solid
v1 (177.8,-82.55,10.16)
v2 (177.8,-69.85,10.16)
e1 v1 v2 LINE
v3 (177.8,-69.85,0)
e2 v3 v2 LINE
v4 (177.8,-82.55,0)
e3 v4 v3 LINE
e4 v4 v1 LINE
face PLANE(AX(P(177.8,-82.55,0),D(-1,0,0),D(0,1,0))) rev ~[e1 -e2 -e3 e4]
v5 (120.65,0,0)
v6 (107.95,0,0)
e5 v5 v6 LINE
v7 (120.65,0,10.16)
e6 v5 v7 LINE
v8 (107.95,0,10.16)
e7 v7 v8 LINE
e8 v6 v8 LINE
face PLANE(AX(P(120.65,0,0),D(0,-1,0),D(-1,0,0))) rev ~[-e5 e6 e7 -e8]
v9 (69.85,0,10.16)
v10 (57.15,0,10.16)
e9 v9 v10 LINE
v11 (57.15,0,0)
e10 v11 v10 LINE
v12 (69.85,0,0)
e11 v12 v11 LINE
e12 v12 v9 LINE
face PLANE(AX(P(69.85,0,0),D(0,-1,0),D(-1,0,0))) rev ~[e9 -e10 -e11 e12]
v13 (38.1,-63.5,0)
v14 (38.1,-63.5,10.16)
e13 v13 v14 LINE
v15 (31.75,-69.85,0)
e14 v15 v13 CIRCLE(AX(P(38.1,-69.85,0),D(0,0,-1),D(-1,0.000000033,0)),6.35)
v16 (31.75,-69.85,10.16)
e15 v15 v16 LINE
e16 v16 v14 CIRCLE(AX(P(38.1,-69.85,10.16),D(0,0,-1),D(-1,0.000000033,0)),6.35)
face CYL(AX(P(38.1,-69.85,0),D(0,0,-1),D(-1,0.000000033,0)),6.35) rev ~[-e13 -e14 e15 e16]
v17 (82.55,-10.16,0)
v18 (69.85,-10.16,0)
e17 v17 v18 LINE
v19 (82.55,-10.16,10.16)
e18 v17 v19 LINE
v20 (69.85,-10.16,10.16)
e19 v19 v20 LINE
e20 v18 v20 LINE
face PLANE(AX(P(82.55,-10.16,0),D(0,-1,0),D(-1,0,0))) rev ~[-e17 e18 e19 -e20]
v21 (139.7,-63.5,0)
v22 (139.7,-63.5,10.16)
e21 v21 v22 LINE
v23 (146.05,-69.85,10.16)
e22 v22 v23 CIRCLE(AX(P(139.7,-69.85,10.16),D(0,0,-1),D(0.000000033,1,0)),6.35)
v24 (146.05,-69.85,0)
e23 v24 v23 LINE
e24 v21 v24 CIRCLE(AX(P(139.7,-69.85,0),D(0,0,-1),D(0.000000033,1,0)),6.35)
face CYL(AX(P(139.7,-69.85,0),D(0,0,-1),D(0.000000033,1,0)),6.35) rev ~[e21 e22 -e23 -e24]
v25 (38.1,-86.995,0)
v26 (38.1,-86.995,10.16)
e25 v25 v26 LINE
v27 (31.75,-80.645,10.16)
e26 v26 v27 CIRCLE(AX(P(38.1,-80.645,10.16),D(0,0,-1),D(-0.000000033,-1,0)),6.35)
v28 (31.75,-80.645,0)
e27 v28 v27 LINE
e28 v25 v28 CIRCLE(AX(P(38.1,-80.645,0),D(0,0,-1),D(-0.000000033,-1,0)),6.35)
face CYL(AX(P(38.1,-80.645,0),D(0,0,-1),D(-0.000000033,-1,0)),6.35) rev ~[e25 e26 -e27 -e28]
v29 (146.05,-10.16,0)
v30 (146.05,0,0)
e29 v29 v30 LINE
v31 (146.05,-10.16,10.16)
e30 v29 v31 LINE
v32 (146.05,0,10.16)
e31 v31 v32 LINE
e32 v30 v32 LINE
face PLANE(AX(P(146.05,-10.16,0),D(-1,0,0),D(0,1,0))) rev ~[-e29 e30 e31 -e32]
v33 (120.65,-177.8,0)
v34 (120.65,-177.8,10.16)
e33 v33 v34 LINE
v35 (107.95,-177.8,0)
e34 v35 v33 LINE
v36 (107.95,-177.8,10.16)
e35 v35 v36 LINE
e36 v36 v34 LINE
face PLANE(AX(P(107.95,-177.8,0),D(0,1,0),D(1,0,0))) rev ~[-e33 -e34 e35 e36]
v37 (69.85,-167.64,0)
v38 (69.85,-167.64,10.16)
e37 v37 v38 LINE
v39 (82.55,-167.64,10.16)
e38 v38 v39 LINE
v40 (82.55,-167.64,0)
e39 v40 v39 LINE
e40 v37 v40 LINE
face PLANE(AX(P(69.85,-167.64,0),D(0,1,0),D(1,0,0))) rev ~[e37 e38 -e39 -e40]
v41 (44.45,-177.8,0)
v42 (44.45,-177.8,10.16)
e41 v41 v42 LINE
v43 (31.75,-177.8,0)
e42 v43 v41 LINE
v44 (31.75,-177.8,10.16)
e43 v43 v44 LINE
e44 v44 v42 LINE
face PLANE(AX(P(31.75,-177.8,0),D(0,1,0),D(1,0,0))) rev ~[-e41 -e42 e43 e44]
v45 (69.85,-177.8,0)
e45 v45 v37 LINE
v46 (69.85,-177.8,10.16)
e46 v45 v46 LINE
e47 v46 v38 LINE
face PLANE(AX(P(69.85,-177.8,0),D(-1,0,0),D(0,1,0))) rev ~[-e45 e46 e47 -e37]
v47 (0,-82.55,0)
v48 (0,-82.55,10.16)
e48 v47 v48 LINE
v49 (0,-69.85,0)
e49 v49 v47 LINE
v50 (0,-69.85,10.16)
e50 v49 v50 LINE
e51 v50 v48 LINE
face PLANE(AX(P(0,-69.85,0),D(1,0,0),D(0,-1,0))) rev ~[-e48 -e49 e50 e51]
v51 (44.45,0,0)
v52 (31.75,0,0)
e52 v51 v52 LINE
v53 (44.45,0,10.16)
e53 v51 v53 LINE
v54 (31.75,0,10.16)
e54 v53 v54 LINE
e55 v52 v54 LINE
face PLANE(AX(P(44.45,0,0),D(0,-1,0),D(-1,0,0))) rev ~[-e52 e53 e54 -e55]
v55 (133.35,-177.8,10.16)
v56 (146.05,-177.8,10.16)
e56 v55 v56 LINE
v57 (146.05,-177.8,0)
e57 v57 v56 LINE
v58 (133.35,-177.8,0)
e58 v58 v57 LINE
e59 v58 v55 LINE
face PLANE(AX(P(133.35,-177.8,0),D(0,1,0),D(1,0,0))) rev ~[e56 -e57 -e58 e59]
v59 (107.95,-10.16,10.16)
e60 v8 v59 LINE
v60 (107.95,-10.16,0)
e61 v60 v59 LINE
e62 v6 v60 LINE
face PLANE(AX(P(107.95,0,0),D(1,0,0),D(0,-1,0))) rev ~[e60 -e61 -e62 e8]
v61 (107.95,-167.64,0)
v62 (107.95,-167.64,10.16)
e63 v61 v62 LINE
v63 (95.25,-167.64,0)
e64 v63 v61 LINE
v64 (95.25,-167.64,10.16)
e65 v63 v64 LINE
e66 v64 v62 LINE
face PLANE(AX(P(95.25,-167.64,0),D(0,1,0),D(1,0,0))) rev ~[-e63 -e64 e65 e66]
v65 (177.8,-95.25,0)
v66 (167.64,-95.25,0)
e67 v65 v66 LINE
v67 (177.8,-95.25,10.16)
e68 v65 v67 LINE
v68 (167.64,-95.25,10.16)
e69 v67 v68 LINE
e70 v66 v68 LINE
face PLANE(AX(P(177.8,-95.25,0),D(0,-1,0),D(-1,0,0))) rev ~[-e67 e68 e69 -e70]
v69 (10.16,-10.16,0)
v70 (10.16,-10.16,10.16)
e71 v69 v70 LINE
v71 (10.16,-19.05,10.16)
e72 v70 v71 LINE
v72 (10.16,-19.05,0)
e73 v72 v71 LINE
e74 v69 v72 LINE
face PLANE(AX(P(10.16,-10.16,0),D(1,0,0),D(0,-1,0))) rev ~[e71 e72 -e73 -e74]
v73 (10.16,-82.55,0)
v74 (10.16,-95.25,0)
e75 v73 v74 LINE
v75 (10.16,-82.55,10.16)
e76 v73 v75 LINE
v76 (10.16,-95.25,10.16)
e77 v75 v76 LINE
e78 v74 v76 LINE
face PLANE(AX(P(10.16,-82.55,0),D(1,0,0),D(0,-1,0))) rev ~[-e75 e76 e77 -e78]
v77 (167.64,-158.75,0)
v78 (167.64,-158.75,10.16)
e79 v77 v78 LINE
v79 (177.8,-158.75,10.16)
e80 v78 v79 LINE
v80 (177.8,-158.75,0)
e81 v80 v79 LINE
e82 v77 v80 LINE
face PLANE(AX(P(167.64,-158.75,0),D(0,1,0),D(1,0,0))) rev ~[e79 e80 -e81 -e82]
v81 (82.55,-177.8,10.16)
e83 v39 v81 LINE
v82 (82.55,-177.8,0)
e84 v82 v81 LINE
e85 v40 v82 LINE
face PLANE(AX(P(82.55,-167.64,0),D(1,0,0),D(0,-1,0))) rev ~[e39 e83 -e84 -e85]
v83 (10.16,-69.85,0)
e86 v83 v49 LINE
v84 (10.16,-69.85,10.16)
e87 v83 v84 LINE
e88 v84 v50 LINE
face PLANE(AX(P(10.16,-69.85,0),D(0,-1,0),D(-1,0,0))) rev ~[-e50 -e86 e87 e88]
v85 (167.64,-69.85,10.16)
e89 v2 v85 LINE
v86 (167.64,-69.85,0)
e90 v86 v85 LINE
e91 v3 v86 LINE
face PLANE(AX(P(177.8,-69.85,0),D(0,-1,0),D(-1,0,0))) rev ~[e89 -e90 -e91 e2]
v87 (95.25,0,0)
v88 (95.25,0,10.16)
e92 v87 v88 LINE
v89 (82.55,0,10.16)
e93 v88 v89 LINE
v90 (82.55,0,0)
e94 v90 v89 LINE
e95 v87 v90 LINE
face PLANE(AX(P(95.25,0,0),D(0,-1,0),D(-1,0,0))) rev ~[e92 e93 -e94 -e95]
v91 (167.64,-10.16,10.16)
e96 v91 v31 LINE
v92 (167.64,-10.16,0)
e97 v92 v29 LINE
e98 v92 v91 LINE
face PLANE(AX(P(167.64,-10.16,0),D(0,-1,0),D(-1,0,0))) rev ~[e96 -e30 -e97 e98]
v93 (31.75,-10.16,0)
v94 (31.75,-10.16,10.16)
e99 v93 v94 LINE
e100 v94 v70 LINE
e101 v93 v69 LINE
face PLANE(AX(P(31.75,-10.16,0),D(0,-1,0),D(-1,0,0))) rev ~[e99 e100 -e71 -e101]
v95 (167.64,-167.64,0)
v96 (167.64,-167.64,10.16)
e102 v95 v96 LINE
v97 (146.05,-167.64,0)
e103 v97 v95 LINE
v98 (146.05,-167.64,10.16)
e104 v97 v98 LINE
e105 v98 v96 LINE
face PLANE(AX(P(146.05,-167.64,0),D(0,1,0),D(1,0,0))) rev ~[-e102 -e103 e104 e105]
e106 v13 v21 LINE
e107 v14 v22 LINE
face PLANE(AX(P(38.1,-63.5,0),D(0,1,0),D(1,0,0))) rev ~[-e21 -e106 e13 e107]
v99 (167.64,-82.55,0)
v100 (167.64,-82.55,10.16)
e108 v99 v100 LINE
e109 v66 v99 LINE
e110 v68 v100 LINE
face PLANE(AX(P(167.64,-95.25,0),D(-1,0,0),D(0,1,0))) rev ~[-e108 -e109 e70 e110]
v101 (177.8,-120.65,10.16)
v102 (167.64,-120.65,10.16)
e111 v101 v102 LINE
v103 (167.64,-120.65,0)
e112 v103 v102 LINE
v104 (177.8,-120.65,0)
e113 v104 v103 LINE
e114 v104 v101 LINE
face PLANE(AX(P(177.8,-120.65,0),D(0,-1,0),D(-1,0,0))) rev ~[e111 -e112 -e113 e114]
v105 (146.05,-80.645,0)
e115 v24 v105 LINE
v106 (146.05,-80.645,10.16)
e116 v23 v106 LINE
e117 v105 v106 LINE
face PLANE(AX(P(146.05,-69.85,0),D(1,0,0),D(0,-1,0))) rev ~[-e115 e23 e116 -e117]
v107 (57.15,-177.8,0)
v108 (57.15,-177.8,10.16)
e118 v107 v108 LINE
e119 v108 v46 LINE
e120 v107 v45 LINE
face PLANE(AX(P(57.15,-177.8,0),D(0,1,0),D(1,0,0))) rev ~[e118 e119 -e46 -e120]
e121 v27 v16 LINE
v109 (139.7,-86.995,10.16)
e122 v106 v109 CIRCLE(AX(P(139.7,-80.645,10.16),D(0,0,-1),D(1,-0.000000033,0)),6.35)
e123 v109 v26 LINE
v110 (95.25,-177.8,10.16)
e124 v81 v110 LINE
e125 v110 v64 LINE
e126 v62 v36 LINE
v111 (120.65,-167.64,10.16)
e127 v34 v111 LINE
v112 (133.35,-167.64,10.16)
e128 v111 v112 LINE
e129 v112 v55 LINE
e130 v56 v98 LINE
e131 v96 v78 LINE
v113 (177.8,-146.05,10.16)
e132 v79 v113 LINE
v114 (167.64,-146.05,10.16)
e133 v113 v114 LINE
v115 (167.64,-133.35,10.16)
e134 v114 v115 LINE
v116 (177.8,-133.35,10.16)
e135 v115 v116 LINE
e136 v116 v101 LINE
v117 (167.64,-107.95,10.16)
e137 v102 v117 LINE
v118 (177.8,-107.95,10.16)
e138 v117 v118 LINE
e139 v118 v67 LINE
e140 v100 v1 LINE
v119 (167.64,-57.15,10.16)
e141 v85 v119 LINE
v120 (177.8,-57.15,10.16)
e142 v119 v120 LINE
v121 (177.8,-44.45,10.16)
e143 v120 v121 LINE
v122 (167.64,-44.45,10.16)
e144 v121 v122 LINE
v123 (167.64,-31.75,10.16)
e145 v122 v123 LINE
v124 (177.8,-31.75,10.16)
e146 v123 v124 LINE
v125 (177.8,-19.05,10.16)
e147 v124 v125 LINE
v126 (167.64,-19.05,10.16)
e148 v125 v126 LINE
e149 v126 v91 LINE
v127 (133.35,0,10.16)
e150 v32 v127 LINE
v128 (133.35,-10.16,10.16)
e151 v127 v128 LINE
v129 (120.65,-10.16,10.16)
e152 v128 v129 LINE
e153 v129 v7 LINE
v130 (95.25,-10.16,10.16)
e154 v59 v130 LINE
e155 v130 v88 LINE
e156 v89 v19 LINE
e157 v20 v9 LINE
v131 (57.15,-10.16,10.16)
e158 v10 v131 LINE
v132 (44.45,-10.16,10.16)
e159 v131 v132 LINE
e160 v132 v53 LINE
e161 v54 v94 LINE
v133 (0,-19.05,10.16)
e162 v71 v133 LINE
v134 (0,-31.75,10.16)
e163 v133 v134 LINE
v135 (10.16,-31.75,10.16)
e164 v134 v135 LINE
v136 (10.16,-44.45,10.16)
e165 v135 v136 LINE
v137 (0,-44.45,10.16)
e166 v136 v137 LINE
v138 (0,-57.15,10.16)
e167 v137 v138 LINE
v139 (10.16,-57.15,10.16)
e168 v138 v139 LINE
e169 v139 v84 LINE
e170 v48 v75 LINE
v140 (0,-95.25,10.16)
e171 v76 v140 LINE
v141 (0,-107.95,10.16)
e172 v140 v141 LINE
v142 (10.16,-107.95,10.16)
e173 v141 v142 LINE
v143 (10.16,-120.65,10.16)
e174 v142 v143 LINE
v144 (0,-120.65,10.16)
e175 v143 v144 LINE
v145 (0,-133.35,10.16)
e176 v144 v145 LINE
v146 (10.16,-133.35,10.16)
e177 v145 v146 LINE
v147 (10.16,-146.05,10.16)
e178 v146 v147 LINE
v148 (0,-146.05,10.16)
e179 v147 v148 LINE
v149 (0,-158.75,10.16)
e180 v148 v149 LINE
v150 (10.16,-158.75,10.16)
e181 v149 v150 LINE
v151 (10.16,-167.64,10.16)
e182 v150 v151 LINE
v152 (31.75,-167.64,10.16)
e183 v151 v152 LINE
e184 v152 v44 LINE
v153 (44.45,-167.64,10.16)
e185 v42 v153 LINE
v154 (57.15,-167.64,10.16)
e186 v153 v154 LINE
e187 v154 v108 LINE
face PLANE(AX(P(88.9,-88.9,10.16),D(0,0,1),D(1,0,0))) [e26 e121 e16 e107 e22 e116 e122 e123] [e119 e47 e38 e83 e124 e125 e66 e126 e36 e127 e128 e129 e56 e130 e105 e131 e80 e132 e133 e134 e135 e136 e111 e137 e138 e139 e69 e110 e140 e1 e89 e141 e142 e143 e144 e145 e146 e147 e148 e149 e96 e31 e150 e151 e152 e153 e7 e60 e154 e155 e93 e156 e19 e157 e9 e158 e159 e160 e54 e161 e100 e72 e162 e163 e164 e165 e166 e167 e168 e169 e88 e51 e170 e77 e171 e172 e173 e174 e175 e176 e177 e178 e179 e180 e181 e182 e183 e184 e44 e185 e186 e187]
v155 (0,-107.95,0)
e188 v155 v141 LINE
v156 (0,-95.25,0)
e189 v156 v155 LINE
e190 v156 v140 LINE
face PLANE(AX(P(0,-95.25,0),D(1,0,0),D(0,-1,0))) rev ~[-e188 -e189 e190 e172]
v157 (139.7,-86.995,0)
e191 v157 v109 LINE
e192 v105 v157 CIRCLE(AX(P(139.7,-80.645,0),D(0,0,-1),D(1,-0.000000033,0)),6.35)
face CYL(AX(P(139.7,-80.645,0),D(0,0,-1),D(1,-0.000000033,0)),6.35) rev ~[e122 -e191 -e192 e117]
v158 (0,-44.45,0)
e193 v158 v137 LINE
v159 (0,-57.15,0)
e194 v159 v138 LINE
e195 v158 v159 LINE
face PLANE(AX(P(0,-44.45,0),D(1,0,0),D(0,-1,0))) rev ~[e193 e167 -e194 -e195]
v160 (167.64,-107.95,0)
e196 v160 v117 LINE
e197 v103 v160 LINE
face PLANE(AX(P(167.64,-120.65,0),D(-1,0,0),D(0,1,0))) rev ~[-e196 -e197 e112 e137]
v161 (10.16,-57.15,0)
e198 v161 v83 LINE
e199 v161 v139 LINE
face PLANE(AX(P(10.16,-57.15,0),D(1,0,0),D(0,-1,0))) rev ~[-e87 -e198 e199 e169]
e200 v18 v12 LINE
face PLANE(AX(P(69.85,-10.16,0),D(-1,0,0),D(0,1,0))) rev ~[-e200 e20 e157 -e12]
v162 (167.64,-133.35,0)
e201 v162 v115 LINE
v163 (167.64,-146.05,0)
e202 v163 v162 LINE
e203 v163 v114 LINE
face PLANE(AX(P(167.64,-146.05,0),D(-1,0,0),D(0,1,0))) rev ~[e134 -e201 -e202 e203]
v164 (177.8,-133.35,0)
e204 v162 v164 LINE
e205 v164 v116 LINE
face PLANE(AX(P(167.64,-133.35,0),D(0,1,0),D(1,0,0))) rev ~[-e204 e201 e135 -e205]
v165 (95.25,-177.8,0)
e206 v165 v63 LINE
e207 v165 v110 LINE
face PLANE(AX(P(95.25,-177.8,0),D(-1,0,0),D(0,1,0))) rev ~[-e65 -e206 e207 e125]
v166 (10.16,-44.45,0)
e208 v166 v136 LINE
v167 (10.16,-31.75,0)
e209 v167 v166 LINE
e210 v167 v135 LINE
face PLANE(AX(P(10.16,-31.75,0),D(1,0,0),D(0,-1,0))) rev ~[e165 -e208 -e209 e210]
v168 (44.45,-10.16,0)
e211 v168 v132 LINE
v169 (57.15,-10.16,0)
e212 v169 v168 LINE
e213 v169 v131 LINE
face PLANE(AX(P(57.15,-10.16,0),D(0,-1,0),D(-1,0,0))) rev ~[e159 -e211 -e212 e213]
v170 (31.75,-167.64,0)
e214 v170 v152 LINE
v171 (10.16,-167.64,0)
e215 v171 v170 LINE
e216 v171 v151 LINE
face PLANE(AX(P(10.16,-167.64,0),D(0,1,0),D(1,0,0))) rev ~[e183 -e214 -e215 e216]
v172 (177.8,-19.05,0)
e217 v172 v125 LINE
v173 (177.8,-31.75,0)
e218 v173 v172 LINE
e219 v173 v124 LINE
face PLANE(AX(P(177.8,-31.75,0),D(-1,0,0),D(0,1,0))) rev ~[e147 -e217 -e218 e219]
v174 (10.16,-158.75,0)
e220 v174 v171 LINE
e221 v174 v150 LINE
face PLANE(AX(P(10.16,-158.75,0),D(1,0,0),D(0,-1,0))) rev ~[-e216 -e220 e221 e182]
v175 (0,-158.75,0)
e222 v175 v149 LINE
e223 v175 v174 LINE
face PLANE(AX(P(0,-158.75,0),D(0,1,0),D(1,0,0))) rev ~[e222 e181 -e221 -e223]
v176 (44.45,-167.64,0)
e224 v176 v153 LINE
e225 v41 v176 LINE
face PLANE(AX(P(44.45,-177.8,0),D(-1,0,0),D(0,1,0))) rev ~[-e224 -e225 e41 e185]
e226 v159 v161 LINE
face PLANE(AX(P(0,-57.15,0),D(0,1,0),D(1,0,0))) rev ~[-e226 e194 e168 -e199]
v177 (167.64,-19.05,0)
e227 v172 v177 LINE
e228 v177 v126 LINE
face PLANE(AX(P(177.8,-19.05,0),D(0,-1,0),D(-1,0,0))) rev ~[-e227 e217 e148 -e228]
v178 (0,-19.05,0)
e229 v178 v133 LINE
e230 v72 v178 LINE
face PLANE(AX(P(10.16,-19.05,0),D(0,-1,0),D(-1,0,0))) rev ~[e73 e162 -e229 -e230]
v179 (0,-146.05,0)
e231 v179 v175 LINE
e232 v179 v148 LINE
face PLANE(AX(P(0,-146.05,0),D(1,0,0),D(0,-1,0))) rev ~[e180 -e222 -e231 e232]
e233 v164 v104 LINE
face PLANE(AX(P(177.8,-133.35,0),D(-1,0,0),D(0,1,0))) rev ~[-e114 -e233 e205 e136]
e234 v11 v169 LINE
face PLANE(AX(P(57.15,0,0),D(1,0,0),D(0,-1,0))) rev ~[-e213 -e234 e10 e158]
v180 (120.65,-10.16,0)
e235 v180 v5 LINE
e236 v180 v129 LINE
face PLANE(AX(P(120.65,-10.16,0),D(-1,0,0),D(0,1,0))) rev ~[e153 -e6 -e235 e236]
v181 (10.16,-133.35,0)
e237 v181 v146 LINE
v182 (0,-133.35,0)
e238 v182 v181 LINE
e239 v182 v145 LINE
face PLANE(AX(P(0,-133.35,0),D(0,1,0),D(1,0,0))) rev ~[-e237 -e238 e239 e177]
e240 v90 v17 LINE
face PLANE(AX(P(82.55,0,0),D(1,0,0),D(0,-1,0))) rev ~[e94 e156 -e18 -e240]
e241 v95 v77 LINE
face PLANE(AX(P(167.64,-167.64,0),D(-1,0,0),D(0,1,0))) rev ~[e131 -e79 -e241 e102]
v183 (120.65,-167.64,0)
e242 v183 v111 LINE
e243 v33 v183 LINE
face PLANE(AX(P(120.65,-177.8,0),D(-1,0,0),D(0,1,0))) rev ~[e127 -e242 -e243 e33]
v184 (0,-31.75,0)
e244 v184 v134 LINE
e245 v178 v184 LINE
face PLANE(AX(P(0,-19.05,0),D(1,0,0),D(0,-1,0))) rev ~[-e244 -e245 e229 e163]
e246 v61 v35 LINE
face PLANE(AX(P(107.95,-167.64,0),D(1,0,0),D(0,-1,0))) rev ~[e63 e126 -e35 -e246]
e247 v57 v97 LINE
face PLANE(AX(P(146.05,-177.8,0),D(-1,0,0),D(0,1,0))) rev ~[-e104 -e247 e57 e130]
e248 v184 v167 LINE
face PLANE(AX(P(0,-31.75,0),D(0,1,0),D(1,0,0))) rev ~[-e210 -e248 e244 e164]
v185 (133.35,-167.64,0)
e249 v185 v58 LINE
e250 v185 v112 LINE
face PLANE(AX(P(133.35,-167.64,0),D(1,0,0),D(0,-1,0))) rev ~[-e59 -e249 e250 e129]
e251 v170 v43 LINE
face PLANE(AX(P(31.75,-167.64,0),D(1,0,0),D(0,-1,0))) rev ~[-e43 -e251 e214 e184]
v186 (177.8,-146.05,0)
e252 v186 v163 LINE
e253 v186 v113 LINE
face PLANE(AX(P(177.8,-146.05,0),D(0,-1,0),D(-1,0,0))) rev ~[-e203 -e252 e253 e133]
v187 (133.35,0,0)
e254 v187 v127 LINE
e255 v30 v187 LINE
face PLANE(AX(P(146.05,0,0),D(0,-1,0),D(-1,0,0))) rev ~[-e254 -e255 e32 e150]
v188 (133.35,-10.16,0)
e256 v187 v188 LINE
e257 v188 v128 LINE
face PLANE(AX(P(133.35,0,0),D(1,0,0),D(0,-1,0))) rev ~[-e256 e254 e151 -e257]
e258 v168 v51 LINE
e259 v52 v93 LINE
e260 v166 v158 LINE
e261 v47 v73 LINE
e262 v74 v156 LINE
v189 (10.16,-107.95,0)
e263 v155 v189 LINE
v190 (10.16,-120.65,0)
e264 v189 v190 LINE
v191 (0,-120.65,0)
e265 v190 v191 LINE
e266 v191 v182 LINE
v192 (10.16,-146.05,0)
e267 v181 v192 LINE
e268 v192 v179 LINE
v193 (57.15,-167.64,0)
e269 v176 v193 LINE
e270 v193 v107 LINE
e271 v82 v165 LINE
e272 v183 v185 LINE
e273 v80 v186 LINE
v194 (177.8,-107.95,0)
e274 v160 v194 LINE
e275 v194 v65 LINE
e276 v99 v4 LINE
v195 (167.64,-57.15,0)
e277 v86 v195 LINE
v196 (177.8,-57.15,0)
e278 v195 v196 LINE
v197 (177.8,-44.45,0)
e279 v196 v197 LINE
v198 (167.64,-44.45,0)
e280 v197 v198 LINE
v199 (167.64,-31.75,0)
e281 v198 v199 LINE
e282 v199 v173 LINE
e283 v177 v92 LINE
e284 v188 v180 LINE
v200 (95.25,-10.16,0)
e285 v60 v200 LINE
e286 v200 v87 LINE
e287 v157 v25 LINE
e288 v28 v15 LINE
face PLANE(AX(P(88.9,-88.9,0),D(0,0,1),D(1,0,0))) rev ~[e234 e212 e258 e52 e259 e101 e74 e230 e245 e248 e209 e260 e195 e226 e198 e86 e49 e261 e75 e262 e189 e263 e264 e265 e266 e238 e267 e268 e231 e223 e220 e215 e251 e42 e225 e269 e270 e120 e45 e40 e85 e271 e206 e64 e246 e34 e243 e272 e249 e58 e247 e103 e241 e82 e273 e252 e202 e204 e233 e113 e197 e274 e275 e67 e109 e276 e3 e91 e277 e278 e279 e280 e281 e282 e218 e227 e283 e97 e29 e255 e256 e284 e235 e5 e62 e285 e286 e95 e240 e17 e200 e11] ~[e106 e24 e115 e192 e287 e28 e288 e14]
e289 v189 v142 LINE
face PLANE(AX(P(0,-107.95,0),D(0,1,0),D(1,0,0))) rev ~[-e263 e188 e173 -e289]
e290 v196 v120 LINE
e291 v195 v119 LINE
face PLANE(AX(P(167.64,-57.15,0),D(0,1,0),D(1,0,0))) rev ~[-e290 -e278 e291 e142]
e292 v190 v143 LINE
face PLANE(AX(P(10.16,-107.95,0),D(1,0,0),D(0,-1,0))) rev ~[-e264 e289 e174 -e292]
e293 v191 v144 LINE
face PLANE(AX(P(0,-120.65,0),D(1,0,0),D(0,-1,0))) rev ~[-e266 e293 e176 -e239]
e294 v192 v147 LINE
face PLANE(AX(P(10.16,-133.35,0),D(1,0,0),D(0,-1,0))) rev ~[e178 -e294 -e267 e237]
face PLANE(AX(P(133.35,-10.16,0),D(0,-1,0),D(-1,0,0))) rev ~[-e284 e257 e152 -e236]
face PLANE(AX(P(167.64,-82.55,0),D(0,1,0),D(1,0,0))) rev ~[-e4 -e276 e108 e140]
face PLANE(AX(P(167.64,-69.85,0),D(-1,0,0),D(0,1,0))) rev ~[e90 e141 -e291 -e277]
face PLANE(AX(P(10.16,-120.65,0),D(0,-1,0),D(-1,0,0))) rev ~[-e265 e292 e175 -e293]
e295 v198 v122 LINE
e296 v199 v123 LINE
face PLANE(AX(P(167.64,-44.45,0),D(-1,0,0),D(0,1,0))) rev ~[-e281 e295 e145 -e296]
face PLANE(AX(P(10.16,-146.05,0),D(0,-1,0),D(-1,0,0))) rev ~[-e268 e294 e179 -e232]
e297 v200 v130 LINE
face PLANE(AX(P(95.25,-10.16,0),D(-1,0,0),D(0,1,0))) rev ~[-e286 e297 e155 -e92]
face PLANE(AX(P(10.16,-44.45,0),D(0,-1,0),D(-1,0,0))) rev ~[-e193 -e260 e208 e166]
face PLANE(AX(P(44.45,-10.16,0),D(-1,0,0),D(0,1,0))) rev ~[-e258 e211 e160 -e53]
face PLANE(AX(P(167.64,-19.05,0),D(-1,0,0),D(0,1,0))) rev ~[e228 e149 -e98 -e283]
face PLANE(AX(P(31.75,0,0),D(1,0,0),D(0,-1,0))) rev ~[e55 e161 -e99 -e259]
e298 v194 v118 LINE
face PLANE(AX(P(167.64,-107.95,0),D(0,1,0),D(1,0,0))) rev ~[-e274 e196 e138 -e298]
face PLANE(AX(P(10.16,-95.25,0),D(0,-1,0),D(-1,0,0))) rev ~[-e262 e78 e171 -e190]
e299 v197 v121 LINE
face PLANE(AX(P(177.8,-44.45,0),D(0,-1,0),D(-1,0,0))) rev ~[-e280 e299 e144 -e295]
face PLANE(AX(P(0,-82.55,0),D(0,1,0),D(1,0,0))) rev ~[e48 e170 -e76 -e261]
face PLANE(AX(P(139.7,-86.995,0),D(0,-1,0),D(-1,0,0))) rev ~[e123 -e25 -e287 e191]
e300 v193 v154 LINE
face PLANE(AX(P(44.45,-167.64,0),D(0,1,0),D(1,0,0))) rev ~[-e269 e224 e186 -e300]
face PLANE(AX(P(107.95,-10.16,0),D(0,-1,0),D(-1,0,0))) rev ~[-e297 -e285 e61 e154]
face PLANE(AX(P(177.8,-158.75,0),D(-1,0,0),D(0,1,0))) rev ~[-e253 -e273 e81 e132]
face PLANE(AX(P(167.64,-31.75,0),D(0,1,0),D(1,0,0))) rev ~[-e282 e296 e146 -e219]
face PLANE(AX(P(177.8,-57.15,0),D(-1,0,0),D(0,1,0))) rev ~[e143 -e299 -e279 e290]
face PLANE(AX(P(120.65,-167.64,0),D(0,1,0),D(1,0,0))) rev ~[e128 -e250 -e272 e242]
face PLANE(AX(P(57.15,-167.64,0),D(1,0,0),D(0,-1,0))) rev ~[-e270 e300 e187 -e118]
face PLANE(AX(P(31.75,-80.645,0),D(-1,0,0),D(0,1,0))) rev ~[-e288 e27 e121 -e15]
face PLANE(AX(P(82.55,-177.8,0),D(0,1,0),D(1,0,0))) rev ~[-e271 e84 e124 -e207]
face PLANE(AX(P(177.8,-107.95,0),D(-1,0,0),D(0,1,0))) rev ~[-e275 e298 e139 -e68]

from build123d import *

# Parameters (mm, degrees)
F1_DEPTH = 10.16


with BuildPart() as f1:
    # F0 (on Top) → F1 (new body)
    with BuildSketch(Plane.XY):
        Polygon((44.45, 0), (31.75, 0), (31.75, -10.16), (10.16, -10.16), (10.16, -19.05), (0, -19.05), (0, -31.75), (10.16, -31.75), (10.16, -44.45), (0, -44.45), (0, -57.15), (10.16, -57.15), (10.16, -69.85), (0, -69.85), (0, -82.55), (10.16, -82.55), (10.16, -95.25), (0, -95.25), (0, -107.95), (10.16, -107.95), (10.16, -120.65), (0, -120.65), (0, -133.35), (10.16, -133.35), (10.16, -146.05), (0, -146.05), (0, -158.75), (10.16, -158.75), (10.16, -167.64), (31.75, -167.64), (31.75, -177.8), (44.45, -177.8), (44.45, -167.64), (57.15, -167.64), (57.15, -177.8), (69.85, -177.8), (69.85, -167.64), (82.55, -167.64), (82.55, -177.8), (95.25, -177.8), (95.25, -167.64), (107.95, -167.64), (107.95, -177.8), (120.65, -177.8), (120.65, -167.64), (133.35, -167.64), (133.35, -177.8), (146.05, -177.8), (146.05, -167.64), (167.64, -167.64), (167.64, -158.75), (177.8, -158.75), (177.8, -146.05), (167.64, -146.05), (167.64, -133.35), (177.8, -133.35), (177.8, -120.65), (167.64, -120.65), (167.64, -107.95), (177.8, -107.95), (177.8, -95.25), (167.64, -95.25), (167.64, -82.55), (177.8, -82.55), (177.8, -69.85), (167.64, -69.85), (167.64, -57.15), (177.8, -57.15), (177.8, -44.45), (167.64, -44.45), (167.64, -31.75), (177.8, -31.75), (177.8, -19.05), (167.64, -19.05), (167.64, -10.16), (146.05, -10.16), (146.05, 0), (133.35, 0), (133.35, -10.16), (120.65, -10.16), (120.65, 0), (107.95, 0), (107.95, -10.16), (95.25, -10.16), (95.25, 0), (82.55, 0), (82.55, -10.16), (69.85, -10.16), (69.85, 0), (57.15, 0), (57.15, -10.16), (44.45, -10.16), align=None)
        with BuildLine():
            ThreePointArc((31.75, -69.85), (33.609872, -65.359872), (38.1, -63.5))
            Line((38.1, -63.5), (139.7, -63.5))
            ThreePointArc((139.7, -63.5), (144.190128, -65.359872), (146.05, -69.85))
            Line((146.05, -69.85), (146.05, -80.645))
            ThreePointArc((146.05, -80.645), (144.190128, -85.135128), (139.7, -86.995))
            Line((139.7, -86.995), (38.1, -86.995))
            ThreePointArc((38.1, -86.995), (33.609872, -85.135128), (31.75, -80.645))
            Line((31.75, -80.645), (31.75, -69.85))
        make_face(mode=Mode.SUBTRACT)
    extrude(amount=F1_DEPTH)


solid = f1.part
